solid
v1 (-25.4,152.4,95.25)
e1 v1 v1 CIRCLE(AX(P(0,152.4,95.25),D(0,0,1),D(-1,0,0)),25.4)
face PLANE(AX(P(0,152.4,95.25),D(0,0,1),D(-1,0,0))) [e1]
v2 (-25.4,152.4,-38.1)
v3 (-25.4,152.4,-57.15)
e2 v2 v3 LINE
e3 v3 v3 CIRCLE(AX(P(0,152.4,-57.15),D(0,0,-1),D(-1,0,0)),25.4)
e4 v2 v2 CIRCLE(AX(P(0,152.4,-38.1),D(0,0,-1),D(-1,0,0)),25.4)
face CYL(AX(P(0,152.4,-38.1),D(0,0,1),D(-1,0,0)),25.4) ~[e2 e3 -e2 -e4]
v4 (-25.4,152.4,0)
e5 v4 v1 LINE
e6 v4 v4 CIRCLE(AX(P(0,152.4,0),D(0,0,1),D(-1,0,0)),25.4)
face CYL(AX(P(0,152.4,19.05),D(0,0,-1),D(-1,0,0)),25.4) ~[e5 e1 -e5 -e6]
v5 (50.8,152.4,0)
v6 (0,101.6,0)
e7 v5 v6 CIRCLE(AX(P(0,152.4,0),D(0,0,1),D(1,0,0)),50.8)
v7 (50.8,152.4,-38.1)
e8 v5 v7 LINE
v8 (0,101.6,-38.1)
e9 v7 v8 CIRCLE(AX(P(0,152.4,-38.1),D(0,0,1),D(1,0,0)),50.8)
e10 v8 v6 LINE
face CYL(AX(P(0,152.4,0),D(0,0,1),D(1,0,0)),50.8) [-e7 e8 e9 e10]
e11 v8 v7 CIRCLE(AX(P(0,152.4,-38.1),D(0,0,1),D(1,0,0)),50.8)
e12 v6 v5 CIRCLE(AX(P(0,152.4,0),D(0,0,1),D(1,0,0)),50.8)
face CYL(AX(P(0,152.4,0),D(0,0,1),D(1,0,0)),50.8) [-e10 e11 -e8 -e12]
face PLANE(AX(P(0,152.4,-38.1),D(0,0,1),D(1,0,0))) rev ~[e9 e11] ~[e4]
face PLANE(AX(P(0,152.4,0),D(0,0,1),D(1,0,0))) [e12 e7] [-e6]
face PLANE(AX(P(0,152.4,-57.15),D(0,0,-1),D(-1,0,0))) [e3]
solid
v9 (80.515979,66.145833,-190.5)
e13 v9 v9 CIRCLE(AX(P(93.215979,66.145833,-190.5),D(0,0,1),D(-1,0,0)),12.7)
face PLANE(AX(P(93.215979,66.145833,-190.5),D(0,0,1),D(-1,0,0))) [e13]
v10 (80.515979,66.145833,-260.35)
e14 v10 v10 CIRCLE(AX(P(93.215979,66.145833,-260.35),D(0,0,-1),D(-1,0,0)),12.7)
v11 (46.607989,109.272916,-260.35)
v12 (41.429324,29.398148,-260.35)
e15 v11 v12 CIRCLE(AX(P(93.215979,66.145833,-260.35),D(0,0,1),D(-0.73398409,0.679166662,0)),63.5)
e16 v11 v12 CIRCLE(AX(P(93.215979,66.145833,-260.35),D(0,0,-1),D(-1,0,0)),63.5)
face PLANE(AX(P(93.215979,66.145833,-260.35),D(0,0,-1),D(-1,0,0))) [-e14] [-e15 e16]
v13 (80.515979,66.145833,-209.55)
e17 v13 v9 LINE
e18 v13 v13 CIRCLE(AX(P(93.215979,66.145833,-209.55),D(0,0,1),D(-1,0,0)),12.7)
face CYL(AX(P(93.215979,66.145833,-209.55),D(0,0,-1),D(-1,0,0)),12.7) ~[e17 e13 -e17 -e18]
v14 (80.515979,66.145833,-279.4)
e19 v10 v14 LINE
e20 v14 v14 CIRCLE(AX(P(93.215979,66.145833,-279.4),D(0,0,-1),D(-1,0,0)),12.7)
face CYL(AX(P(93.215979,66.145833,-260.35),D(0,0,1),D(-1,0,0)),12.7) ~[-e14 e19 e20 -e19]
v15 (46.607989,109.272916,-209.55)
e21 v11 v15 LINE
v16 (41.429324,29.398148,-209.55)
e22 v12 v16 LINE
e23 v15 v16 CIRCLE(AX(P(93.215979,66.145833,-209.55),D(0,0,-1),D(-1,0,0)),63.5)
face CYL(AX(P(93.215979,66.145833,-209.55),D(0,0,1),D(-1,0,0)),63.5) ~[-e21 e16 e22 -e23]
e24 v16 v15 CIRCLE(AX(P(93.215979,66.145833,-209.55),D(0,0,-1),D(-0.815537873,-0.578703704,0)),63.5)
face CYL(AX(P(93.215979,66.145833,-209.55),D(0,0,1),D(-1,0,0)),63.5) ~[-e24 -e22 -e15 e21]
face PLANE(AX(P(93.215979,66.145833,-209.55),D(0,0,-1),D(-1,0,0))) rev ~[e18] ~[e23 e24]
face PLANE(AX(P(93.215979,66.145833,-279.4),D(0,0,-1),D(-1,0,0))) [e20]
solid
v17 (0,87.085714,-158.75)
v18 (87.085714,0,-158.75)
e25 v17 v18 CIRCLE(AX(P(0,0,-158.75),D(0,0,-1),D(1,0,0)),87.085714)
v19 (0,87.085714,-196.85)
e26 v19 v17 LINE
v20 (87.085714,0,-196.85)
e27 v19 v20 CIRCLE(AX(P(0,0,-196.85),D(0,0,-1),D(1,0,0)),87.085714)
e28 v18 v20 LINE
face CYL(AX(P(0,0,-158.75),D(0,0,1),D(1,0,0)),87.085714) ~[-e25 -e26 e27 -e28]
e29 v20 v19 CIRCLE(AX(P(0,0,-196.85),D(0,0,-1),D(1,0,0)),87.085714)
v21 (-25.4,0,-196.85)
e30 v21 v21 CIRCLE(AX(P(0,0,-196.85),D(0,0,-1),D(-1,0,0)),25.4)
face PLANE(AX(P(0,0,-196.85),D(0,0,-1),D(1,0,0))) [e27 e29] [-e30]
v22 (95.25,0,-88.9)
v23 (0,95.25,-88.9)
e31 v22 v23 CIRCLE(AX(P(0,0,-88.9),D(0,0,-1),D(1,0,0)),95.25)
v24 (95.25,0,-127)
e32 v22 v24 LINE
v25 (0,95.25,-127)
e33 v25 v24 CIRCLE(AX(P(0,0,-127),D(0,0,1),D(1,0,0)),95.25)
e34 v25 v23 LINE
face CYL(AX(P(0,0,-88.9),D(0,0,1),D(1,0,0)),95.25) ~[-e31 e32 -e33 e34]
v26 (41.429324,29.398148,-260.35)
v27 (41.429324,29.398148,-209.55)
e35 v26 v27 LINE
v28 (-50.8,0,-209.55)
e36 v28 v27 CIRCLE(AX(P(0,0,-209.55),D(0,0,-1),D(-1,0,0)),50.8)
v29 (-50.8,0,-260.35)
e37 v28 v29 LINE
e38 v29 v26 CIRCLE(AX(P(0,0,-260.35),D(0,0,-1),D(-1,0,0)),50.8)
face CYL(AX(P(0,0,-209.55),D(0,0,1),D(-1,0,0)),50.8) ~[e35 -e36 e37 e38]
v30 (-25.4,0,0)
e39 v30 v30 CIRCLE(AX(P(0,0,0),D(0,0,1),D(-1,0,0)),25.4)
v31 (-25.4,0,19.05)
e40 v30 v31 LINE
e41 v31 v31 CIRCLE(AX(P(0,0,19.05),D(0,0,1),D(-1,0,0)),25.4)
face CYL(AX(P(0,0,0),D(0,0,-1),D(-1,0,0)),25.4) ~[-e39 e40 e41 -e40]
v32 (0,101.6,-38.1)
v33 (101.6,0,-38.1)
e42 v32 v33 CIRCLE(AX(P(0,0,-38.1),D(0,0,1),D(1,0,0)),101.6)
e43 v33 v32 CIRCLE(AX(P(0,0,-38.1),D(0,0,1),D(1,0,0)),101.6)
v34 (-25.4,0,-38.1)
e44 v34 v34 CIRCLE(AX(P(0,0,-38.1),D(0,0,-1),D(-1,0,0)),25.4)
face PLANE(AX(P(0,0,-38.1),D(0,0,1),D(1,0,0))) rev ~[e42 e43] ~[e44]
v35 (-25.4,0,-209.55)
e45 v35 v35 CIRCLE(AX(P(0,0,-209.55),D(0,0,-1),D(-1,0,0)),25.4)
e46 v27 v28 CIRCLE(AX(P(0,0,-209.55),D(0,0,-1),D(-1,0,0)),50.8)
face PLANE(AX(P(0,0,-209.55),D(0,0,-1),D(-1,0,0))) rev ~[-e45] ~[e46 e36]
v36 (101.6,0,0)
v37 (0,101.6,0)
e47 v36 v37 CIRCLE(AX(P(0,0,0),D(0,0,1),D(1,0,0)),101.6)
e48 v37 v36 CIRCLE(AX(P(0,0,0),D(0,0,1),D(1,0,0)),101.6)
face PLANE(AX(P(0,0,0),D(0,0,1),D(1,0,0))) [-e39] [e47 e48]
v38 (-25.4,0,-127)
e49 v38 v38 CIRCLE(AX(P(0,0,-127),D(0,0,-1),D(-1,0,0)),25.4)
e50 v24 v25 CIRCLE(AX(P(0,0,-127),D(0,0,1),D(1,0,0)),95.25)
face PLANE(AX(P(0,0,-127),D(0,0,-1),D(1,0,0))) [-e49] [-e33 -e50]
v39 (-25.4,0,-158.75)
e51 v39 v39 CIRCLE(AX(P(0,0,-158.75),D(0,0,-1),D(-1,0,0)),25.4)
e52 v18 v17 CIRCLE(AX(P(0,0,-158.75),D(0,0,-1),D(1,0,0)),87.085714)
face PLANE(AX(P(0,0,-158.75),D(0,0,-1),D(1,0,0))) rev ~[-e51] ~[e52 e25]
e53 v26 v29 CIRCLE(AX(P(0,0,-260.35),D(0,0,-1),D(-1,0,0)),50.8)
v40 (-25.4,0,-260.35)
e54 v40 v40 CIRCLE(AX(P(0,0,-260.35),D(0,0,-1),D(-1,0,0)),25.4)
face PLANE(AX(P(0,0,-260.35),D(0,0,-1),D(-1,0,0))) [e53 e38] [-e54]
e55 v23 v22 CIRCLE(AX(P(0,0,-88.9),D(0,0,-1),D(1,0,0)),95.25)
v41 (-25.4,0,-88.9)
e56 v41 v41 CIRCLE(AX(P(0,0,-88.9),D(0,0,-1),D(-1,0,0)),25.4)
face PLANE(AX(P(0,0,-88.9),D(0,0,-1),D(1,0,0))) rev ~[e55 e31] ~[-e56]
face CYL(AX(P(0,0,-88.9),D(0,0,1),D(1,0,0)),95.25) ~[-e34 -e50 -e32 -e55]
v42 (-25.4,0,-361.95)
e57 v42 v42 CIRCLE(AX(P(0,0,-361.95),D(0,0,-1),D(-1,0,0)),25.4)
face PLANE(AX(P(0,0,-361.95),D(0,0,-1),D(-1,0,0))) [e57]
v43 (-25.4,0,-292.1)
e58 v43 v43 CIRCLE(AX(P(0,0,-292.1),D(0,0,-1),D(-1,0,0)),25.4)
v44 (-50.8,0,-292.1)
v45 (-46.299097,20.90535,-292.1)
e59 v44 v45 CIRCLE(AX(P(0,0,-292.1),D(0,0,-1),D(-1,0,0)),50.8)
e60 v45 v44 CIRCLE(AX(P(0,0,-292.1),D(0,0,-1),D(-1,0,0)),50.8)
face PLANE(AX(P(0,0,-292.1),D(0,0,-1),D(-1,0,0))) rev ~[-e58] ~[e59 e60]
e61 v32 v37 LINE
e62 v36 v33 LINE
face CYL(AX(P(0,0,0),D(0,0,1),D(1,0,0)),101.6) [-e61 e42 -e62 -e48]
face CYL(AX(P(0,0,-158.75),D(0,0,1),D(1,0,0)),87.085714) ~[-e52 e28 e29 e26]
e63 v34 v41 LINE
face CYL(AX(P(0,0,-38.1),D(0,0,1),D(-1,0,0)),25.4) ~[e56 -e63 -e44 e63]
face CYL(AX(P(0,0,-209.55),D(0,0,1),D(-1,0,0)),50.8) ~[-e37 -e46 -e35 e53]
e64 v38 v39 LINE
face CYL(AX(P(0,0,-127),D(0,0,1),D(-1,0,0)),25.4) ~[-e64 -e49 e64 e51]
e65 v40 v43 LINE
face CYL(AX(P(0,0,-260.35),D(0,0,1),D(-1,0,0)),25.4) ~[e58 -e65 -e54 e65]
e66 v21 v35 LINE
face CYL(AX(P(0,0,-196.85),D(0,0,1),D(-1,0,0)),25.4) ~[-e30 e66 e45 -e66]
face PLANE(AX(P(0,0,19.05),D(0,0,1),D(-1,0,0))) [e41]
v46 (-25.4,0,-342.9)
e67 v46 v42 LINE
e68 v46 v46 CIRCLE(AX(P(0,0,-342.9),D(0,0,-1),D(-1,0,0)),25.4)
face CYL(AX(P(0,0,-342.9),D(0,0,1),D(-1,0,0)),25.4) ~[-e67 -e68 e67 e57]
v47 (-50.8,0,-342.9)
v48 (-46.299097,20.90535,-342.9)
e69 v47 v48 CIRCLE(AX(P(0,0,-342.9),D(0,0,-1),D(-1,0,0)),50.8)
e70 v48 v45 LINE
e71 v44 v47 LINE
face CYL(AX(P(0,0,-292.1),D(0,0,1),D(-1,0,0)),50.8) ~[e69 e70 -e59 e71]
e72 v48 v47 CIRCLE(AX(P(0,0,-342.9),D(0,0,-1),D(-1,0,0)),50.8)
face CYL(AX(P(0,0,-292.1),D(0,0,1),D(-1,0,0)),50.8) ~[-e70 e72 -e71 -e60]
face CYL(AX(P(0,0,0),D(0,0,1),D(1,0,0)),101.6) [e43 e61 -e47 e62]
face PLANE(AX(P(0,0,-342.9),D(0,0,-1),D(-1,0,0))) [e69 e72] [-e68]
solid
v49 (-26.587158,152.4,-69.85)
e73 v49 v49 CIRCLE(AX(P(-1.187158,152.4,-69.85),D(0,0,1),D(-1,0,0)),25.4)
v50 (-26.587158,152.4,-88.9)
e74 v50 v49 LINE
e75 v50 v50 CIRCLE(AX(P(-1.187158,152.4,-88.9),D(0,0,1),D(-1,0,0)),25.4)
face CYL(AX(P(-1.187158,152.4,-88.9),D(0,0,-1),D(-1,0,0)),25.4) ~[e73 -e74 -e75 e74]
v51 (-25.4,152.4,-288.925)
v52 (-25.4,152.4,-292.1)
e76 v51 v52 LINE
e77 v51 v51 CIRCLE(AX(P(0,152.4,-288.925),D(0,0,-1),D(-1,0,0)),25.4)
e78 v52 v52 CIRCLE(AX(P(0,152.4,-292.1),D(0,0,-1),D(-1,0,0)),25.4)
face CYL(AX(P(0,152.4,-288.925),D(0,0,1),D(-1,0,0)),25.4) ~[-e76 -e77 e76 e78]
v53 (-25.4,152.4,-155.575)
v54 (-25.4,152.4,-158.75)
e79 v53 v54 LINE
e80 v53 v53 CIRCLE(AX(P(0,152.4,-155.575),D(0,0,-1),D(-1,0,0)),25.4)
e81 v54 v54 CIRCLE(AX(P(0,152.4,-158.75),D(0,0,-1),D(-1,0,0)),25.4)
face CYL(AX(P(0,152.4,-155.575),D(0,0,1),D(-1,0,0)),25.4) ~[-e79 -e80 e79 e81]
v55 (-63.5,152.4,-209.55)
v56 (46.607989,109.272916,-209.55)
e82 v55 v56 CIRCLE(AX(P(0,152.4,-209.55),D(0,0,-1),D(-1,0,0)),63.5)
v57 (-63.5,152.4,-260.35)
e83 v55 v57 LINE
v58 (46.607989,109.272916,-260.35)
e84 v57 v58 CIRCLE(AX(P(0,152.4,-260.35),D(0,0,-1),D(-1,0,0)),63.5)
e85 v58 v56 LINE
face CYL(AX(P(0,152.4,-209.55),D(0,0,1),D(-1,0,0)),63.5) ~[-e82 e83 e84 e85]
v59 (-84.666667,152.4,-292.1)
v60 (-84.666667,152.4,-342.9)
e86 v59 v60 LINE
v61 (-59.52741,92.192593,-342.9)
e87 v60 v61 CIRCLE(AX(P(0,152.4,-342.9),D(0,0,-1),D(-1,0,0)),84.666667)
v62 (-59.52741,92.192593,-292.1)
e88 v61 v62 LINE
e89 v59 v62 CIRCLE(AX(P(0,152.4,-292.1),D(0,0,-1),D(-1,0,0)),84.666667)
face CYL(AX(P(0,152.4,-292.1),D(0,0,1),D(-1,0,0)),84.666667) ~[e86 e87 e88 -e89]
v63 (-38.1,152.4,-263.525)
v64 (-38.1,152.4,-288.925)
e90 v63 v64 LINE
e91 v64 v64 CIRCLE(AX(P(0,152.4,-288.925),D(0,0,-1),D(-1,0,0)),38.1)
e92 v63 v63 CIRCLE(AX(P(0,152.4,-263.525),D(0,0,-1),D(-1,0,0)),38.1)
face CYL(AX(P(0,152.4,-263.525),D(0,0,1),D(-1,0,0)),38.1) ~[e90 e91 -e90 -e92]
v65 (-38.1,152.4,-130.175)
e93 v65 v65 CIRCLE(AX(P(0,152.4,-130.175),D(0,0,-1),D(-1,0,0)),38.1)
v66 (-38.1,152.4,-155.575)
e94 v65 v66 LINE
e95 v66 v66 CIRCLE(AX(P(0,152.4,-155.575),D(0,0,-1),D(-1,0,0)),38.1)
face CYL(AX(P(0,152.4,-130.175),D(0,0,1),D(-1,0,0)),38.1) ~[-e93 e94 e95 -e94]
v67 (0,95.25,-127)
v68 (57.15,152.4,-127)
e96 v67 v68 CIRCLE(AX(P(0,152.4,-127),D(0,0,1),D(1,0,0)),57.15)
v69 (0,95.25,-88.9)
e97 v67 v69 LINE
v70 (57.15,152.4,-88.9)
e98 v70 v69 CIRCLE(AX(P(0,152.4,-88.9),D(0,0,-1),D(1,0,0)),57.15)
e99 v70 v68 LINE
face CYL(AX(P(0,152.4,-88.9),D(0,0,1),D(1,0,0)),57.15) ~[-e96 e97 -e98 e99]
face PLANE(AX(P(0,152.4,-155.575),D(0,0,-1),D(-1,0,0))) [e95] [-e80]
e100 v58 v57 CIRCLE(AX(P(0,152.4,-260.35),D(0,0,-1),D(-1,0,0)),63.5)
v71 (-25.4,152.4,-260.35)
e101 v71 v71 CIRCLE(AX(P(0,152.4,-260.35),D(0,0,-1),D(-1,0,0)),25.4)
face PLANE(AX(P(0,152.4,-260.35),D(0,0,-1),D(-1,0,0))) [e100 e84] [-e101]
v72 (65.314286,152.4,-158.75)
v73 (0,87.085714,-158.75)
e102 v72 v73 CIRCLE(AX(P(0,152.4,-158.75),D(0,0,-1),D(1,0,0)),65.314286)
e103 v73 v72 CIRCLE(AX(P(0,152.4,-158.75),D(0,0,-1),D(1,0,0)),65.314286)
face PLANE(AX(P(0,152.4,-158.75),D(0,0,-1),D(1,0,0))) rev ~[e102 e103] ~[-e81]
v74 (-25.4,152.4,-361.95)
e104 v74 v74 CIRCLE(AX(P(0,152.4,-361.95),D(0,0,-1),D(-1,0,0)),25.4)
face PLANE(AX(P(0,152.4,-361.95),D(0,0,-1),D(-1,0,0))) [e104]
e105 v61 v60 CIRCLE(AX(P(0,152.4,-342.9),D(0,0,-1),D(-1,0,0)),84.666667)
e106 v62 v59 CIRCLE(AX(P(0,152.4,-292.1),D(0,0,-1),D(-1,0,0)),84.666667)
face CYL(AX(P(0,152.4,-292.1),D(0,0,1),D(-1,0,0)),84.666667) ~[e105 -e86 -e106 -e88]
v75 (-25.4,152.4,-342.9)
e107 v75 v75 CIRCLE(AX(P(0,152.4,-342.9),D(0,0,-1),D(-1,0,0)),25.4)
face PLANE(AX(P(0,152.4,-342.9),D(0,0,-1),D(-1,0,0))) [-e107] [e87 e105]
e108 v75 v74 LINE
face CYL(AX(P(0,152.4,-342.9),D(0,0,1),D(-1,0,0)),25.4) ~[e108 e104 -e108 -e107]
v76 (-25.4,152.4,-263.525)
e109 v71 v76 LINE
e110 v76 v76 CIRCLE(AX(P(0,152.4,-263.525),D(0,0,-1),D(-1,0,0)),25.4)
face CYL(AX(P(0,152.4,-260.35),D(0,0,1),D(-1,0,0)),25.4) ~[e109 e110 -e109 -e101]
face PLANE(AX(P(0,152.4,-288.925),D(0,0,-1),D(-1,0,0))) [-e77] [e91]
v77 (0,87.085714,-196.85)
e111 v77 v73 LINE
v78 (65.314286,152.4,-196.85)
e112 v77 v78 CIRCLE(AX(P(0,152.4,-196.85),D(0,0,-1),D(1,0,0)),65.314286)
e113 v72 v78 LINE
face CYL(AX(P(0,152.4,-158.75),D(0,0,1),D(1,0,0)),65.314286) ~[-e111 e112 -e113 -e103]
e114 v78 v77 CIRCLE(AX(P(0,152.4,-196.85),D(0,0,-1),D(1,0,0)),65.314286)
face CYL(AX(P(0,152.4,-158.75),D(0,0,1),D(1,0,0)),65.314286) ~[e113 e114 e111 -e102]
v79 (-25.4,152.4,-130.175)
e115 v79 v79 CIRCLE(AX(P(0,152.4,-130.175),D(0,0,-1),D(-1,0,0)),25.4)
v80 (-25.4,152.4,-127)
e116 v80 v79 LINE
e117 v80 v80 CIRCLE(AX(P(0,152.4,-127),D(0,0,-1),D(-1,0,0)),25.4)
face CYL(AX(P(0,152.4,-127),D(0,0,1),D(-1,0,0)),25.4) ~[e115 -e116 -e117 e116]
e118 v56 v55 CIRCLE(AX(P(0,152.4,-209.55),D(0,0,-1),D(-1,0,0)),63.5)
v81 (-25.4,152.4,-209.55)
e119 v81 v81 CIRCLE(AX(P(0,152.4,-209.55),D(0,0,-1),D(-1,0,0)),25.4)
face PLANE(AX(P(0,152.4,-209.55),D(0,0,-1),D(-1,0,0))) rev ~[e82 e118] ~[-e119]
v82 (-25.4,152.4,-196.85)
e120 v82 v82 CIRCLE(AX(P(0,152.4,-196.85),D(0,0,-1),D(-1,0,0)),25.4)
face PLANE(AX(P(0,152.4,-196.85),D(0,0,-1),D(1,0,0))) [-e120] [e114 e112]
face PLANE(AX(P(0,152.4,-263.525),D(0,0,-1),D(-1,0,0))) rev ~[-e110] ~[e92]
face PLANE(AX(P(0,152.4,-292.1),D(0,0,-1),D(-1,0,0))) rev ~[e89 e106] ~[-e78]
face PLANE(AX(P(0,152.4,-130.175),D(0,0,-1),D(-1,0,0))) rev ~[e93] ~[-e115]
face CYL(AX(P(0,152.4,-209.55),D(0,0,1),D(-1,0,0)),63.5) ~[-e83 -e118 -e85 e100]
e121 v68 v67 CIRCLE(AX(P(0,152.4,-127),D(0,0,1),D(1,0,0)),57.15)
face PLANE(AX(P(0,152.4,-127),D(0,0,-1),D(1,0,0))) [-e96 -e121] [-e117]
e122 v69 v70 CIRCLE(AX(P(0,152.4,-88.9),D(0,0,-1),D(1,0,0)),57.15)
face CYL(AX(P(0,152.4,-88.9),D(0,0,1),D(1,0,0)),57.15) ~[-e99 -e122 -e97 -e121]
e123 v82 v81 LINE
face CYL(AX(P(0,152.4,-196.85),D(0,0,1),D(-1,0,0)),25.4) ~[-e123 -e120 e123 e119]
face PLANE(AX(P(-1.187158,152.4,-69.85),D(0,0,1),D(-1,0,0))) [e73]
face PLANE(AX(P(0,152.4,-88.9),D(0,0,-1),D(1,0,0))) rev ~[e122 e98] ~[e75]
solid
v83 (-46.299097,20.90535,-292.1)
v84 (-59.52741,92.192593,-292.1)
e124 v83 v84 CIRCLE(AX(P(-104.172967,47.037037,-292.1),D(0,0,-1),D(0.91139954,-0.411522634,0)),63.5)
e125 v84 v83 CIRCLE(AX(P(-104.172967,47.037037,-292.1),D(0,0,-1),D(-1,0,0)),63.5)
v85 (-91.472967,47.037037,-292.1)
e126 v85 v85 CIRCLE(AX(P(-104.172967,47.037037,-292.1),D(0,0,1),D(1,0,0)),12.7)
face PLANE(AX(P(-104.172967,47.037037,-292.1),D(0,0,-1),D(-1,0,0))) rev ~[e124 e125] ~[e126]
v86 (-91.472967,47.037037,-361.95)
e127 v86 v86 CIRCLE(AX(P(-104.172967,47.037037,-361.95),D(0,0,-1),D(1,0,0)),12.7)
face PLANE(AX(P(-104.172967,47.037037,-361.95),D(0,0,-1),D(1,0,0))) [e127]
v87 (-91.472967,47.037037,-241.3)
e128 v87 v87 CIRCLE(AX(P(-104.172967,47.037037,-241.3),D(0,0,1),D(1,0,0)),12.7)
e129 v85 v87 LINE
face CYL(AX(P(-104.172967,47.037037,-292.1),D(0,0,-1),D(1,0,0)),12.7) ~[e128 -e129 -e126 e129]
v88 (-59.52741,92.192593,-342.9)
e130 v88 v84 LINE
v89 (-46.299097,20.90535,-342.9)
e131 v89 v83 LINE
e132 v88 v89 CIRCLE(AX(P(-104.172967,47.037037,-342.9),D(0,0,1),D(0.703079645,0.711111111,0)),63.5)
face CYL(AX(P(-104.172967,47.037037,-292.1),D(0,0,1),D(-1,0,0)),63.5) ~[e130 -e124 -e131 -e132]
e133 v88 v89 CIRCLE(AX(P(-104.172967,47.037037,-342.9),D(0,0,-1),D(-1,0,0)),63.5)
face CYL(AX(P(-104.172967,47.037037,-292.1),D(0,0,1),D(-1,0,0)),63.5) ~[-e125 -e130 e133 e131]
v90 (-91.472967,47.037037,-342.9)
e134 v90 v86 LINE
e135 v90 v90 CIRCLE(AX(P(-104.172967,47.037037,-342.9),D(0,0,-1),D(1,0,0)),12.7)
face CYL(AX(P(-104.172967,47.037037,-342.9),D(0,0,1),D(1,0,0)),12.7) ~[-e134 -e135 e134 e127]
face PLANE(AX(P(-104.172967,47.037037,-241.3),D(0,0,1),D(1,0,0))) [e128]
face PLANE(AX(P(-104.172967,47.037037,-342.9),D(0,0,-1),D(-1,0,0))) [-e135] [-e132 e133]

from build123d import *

# Parameters (mm, degrees)
SKETCH1_R             = 101.6
BOSS_EXTRUDE1_DEPTH   = 38.1
SKETCH1_R_2           = 50.8
BOSS_EXTRUDE1_2_DEPTH = 38.1
SKETCH2_R             = 25.4
BOSS_EXTRUDE2_DEPTH   = 50.8
SKETCH3_R             = 95.25
SKETCH3_R_2           = 25.4
SKETCH3_R_3           = 57.15
BOSS_EXTRUDE4_DEPTH   = 38.1
SKETCH4_R             = 25.4
BOSS_EXTRUDE5_DEPTH   = 3.175
SKETCH5_R             = 38.1
BOSS_EXTRUDE6_DEPTH   = 25.4
SKETCH6_R             = 25.4
BOSS_EXTRUDE7_DEPTH   = 3.175
SKETCH7_R             = 25.4
BOSS_EXTRUDE8_DEPTH   = 31.75
SKETCH8_R             = 87.085714286
SKETCH8_R_2           = 25.4
SKETCH8_R_3           = 65.314285714
BOSS_EXTRUDE9_DEPTH   = 38.1
SKETCH9_R             = 25.4
BOSS_EXTRUDE10_DEPTH  = 12.7
SKETCH10_R            = 63.5
SKETCH10_R_2          = 50.8
SKETCH10_R_3          = 25.4
BOSS_EXTRUDE11_DEPTH  = 50.8
SKETCH11_R            = 25.4
BOSS_EXTRUDE12_DEPTH  = 31.75
SKETCH12_R            = 25.4
BOSS_EXTRUDE13_DEPTH  = 3.175
SKETCH13_R            = 38.1
BOSS_EXTRUDE14_DEPTH  = 25.4
SKETCH14_R            = 25.4
BOSS_EXTRUDE15_DEPTH  = 3.175
SKETCH15_R            = 63.5
SKETCH15_R_2          = 50.8
SKETCH15_R_3          = 25.4
SKETCH15_R_4          = 84.666666667
BOSS_EXTRUDE16_DEPTH  = 50.8
SKETCH16_R            = 12.7
BOSS_EXTRUDE17_DEPTH  = 19.05
SKETCH17_R            = 12.7
BOSS_EXTRUDE18_DEPTH  = 19.05
SKETCH18_R            = 25.4
SKETCH18_R_2          = 12.7
BOSS_EXTRUDE19_DEPTH  = 19.05
SKETCH19_R            = 12.7
BOSS_EXTRUDE20_DEPTH  = 50.8
SKETCH20_R            = 25.4
BOSS_EXTRUDE21_DEPTH  = 19.05
SKETCH21_R            = 25.4
BOSS_EXTRUDE22_DEPTH  = 19.05
SKETCH22_R            = 25.4
BOSS_EXTRUDE23_DEPTH  = 19.05
SKETCH24_R            = 25.4
BOSS_EXTRUDE24_DEPTH  = 76.2


with BuildPart() as part:
    # Sketch1 → Boss-Extrude1 (new body)
    with BuildSketch(Plane.XY):
        Circle(SKETCH1_R)
    extrude(amount=-BOSS_EXTRUDE1_DEPTH)

    # Sketch2 → Boss-Extrude2 (add)
    with BuildSketch(Plane(origin=(0, 0, -38.1), x_dir=(-1, 0, 0), z_dir=(0, 0, -1))):
        Circle(SKETCH2_R)
    extrude(amount=BOSS_EXTRUDE2_DEPTH)

    # Sketch3 → Boss-Extrude4 (add)
    # profile 1 of 3: a face of its own
    with BuildSketch(Plane(origin=(0, 0, -88.9), x_dir=(-1, 0, 0), z_dir=(0, 0, -1))):
        with Locations(Location((0, 0, 0), (0, 0, 180))):
            Circle(SKETCH3_R)
        Circle(SKETCH3_R_2, mode=Mode.SUBTRACT)
    # profile 2 of 3: a face of its own
    with BuildSketch(Plane(origin=(0, 0, -88.9), x_dir=(-1, 0, 0), z_dir=(0, 0, -1))):
        Circle(SKETCH3_R_2)
    # profile 3 of 3: a face of its own
    with BuildSketch(Plane(origin=(0, 0, -88.9), x_dir=(-1, 0, 0), z_dir=(0, 0, -1))):
        with Locations(Location((0, 152.4, 0), (0, 0, 180))):
            Circle(SKETCH3_R_3)
    extrude(amount=BOSS_EXTRUDE4_DEPTH)


with BuildPart() as body_2:
    # Sketch1 → Boss-Extrude1 2 (new body)
    with BuildSketch(Plane.XY):
        with Locations((0, 152.4)):
            Circle(SKETCH1_R_2)
    extrude(amount=-BOSS_EXTRUDE1_2_DEPTH)



with BuildPart() as boss_extrude4_piece_1:
    # of the separate pieces the step leaves, piece 1, a body of its own (boss_extrude4_pieces)
    add(part.part.solids().sort_by_distance((95.25, 0, -88.9))[0])

    # Sketch7 → Boss-Extrude8 (add)
    with BuildSketch(Plane(origin=(0, 0, -127), x_dir=(-1, 0, 0), z_dir=(0, 0, -1))):
        Circle(SKETCH7_R)
    extrude(amount=BOSS_EXTRUDE8_DEPTH)



with BuildPart() as boss_extrude4_piece_2:
    # of the separate pieces the step leaves, piece 2, a body of its own (boss_extrude4_pieces)
    add(part.part.solids().sort_by_distance((57.15, 152.4, -88.9))[0])

    # Sketch4 → Boss-Extrude5 (add)
    with BuildSketch(Plane(origin=(0, 0, -127), x_dir=(-1, 0, 0), z_dir=(0, 0, -1))):
        with Locations((0, 152.4)):
            Circle(SKETCH4_R)
    extrude(amount=BOSS_EXTRUDE5_DEPTH)

    # Sketch5 → Boss-Extrude6 (add)
    with BuildSketch(Plane(origin=(0, 0, -130.175), x_dir=(-1, 0, 0), z_dir=(0, 0, -1))):
        with Locations((0, 152.4)):
            Circle(SKETCH5_R)
    extrude(amount=BOSS_EXTRUDE6_DEPTH)

    # Sketch6 → Boss-Extrude7 (add)
    with BuildSketch(Plane(origin=(0, 0, -155.575), x_dir=(-1, 0, 0), z_dir=(0, 0, -1))):
        with Locations((0, 152.4)):
            Circle(SKETCH6_R)
    extrude(amount=BOSS_EXTRUDE7_DEPTH)


with BuildPart() as boss_extrude4_piece_1_1:
    add(boss_extrude4_piece_1.part)

    add(boss_extrude4_piece_2.part)  # Boss-Extrude9 merges Boss-Extrude4 piece 2
    # Sketch8 → Boss-Extrude9 (add)
    # profile 1 of 3: a face of its own
    with BuildSketch(Plane(origin=(0, 0, -158.75), x_dir=(-1, 0, 0), z_dir=(0, 0, -1))):
        with Locations(Location((0, 0, 0), (0, 0, 180))):
            Circle(SKETCH8_R)
        Circle(SKETCH8_R_2, mode=Mode.SUBTRACT)
    # profile 2 of 3: a face of its own
    with BuildSketch(Plane(origin=(0, 0, -158.75), x_dir=(-1, 0, 0), z_dir=(0, 0, -1))):
        Circle(SKETCH8_R_2)
    # profile 3 of 3: a face of its own
    with BuildSketch(Plane(origin=(0, 0, -158.75), x_dir=(-1, 0, 0), z_dir=(0, 0, -1))):
        with Locations(Location((0, 152.4, 0), (0, 0, 180))):
            Circle(SKETCH8_R_3)
    extrude(amount=BOSS_EXTRUDE9_DEPTH)

    # Sketch9 → Boss-Extrude10 (add)
    with BuildSketch(Plane(origin=(0, 0, -196.85), x_dir=(-1, 0, 0), z_dir=(0, 0, -1))):
        Circle(SKETCH9_R)
        with Locations((0, 152.4)):
            Circle(SKETCH9_R)
    extrude(amount=BOSS_EXTRUDE10_DEPTH)

    # Sketch10 → Boss-Extrude11 (add)
    # profile 1 of 4: a face of its own
    with BuildSketch(Plane(origin=(0, 0, -209.55), x_dir=(-1, 0, 0), z_dir=(0, 0, -1))):
        with Locations((-93.215978956, 66.145833333)):
            Circle(SKETCH10_R)
    # profile 2 of 4: a face of its own
    with BuildSketch(Plane(origin=(0, 0, -209.55), x_dir=(-1, 0, 0), z_dir=(0, 0, -1))):
        Circle(SKETCH10_R_2)
        Circle(SKETCH10_R_3, mode=Mode.SUBTRACT)
    # profile 3 of 4: a face of its own
    with BuildSketch(Plane(origin=(0, 0, -209.55), x_dir=(-1, 0, 0), z_dir=(0, 0, -1))):
        Circle(SKETCH10_R_3)
    # profile 4 of 4: a face of its own
    with BuildSketch(Plane(origin=(0, 0, -209.55), x_dir=(-1, 0, 0), z_dir=(0, 0, -1))):
        with Locations((0, 152.4)):
            Circle(SKETCH10_R)
    extrude(amount=BOSS_EXTRUDE11_DEPTH)

    # Sketch11 → Boss-Extrude12 (add)
    with BuildSketch(Plane(origin=(0, 0, -260.35), x_dir=(-1, 0, 0), z_dir=(0, 0, -1))):
        Circle(SKETCH11_R)
    extrude(amount=BOSS_EXTRUDE12_DEPTH)

    # Sketch12 → Boss-Extrude13 (add)
    with BuildSketch(Plane(origin=(0, 0, -260.35), x_dir=(-1, 0, 0), z_dir=(0, 0, -1))):
        with Locations((0, 152.4)):
            Circle(SKETCH12_R)
    extrude(amount=BOSS_EXTRUDE13_DEPTH)

    # Sketch13 → Boss-Extrude14 (add)
    with BuildSketch(Plane(origin=(0, 0, -263.525), x_dir=(-1, 0, 0), z_dir=(0, 0, -1))):
        with Locations((0, 152.4)):
            Circle(SKETCH13_R)
    extrude(amount=BOSS_EXTRUDE14_DEPTH)

    # Sketch14 → Boss-Extrude15 (add)
    with BuildSketch(Plane(origin=(0, 0, -288.925), x_dir=(-1, 0, 0), z_dir=(0, 0, -1))):
        with Locations((0, 152.4)):
            Circle(SKETCH14_R)
    extrude(amount=BOSS_EXTRUDE15_DEPTH)

    # Sketch15 → Boss-Extrude16 (add)
    # profile 1 of 4: a face of its own
    with BuildSketch(Plane(origin=(0, 0, -292.1), x_dir=(-1, 0, 0), z_dir=(0, 0, -1))):
        with Locations((104.172967447, 47.037037037)):
            Circle(SKETCH15_R)
    # profile 2 of 4: a face of its own
    with BuildSketch(Plane(origin=(0, 0, -292.1), x_dir=(-1, 0, 0), z_dir=(0, 0, -1))):
        Circle(SKETCH15_R_2)
        Circle(SKETCH15_R_3, mode=Mode.SUBTRACT)
    # profile 3 of 4: a face of its own
    with BuildSketch(Plane(origin=(0, 0, -292.1), x_dir=(-1, 0, 0), z_dir=(0, 0, -1))):
        Circle(SKETCH15_R_3)
    # profile 4 of 4: a face of its own
    with BuildSketch(Plane(origin=(0, 0, -292.1), x_dir=(-1, 0, 0), z_dir=(0, 0, -1))):
        with Locations((0, 152.4)):
            Circle(SKETCH15_R_4)
    extrude(amount=BOSS_EXTRUDE16_DEPTH)

    # Sketch16 → Boss-Extrude17 (add)
    with BuildSketch(Plane.XY.offset(-209.55)):
        with Locations(Location((93.215978956, 66.145833333, 0), (0, 0, 180))):
            Circle(SKETCH16_R)
    extrude(amount=BOSS_EXTRUDE17_DEPTH)

    # Sketch17 → Boss-Extrude18 (add)
    with BuildSketch(Plane(origin=(0, 0, -260.35), x_dir=(-1, 0, 0), z_dir=(0, 0, -1))):
        with Locations((-93.215978956, 66.145833333)):
            Circle(SKETCH17_R)
    extrude(amount=BOSS_EXTRUDE18_DEPTH)

    # Sketch18 → Boss-Extrude19 (add)
    with BuildSketch(Plane(origin=(0, 0, -342.9), x_dir=(-1, 0, 0), z_dir=(0, 0, -1))):
        with Locations((0, 152.4)):
            Circle(SKETCH18_R)
        with Locations(Location((104.172967447, 47.037037037, 0), (0, 0, 180))):
            Circle(SKETCH18_R_2)
        Circle(SKETCH18_R)
    extrude(amount=BOSS_EXTRUDE19_DEPTH)

    # Sketch19 → Boss-Extrude20 (add)
    with BuildSketch(Plane.XY.offset(-292.1)):
        with Locations((-104.172967447, 47.037037037)):
            Circle(SKETCH19_R)
    extrude(amount=BOSS_EXTRUDE20_DEPTH)


with BuildPart() as body_2_1:
    add(body_2.part)

    add(boss_extrude4_piece_1_1.part)  # Boss-Extrude21 merges Boss-Extrude4 piece 1
    # Sketch20 → Boss-Extrude21 (add)
    with BuildSketch(Plane.XY):
        with Locations(Location((0, 0, 0), (0, 0, 180))):
            Circle(SKETCH20_R)
        with Locations(Location((0, 152.4, 0), (0, 0, 180))):
            Circle(SKETCH20_R)
    extrude(amount=BOSS_EXTRUDE21_DEPTH)

    # Sketch21 → Boss-Extrude22 (add)
    with BuildSketch(Plane.XY.offset(-88.9)):
        with Locations(Location((-1.187158257, 152.4, 0), (0, 0, 180))):
            Circle(SKETCH21_R)
    extrude(amount=BOSS_EXTRUDE22_DEPTH)

    # Sketch22 → Boss-Extrude23 (add)
    with BuildSketch(Plane(origin=(0, 0, -38.1), x_dir=(-1, 0, 0), z_dir=(0, 0, -1))):
        with Locations((0, 152.4)):
            Circle(SKETCH22_R)
    extrude(amount=BOSS_EXTRUDE23_DEPTH)

    # Sketch24 → Boss-Extrude24 (add)
    with BuildSketch(Plane.XY.offset(19.05)):
        with Locations(Location((0, 152.4, 0), (0, 0, 180))):
            Circle(SKETCH24_R)
    extrude(amount=BOSS_EXTRUDE24_DEPTH)


solid = body_2_1.part
